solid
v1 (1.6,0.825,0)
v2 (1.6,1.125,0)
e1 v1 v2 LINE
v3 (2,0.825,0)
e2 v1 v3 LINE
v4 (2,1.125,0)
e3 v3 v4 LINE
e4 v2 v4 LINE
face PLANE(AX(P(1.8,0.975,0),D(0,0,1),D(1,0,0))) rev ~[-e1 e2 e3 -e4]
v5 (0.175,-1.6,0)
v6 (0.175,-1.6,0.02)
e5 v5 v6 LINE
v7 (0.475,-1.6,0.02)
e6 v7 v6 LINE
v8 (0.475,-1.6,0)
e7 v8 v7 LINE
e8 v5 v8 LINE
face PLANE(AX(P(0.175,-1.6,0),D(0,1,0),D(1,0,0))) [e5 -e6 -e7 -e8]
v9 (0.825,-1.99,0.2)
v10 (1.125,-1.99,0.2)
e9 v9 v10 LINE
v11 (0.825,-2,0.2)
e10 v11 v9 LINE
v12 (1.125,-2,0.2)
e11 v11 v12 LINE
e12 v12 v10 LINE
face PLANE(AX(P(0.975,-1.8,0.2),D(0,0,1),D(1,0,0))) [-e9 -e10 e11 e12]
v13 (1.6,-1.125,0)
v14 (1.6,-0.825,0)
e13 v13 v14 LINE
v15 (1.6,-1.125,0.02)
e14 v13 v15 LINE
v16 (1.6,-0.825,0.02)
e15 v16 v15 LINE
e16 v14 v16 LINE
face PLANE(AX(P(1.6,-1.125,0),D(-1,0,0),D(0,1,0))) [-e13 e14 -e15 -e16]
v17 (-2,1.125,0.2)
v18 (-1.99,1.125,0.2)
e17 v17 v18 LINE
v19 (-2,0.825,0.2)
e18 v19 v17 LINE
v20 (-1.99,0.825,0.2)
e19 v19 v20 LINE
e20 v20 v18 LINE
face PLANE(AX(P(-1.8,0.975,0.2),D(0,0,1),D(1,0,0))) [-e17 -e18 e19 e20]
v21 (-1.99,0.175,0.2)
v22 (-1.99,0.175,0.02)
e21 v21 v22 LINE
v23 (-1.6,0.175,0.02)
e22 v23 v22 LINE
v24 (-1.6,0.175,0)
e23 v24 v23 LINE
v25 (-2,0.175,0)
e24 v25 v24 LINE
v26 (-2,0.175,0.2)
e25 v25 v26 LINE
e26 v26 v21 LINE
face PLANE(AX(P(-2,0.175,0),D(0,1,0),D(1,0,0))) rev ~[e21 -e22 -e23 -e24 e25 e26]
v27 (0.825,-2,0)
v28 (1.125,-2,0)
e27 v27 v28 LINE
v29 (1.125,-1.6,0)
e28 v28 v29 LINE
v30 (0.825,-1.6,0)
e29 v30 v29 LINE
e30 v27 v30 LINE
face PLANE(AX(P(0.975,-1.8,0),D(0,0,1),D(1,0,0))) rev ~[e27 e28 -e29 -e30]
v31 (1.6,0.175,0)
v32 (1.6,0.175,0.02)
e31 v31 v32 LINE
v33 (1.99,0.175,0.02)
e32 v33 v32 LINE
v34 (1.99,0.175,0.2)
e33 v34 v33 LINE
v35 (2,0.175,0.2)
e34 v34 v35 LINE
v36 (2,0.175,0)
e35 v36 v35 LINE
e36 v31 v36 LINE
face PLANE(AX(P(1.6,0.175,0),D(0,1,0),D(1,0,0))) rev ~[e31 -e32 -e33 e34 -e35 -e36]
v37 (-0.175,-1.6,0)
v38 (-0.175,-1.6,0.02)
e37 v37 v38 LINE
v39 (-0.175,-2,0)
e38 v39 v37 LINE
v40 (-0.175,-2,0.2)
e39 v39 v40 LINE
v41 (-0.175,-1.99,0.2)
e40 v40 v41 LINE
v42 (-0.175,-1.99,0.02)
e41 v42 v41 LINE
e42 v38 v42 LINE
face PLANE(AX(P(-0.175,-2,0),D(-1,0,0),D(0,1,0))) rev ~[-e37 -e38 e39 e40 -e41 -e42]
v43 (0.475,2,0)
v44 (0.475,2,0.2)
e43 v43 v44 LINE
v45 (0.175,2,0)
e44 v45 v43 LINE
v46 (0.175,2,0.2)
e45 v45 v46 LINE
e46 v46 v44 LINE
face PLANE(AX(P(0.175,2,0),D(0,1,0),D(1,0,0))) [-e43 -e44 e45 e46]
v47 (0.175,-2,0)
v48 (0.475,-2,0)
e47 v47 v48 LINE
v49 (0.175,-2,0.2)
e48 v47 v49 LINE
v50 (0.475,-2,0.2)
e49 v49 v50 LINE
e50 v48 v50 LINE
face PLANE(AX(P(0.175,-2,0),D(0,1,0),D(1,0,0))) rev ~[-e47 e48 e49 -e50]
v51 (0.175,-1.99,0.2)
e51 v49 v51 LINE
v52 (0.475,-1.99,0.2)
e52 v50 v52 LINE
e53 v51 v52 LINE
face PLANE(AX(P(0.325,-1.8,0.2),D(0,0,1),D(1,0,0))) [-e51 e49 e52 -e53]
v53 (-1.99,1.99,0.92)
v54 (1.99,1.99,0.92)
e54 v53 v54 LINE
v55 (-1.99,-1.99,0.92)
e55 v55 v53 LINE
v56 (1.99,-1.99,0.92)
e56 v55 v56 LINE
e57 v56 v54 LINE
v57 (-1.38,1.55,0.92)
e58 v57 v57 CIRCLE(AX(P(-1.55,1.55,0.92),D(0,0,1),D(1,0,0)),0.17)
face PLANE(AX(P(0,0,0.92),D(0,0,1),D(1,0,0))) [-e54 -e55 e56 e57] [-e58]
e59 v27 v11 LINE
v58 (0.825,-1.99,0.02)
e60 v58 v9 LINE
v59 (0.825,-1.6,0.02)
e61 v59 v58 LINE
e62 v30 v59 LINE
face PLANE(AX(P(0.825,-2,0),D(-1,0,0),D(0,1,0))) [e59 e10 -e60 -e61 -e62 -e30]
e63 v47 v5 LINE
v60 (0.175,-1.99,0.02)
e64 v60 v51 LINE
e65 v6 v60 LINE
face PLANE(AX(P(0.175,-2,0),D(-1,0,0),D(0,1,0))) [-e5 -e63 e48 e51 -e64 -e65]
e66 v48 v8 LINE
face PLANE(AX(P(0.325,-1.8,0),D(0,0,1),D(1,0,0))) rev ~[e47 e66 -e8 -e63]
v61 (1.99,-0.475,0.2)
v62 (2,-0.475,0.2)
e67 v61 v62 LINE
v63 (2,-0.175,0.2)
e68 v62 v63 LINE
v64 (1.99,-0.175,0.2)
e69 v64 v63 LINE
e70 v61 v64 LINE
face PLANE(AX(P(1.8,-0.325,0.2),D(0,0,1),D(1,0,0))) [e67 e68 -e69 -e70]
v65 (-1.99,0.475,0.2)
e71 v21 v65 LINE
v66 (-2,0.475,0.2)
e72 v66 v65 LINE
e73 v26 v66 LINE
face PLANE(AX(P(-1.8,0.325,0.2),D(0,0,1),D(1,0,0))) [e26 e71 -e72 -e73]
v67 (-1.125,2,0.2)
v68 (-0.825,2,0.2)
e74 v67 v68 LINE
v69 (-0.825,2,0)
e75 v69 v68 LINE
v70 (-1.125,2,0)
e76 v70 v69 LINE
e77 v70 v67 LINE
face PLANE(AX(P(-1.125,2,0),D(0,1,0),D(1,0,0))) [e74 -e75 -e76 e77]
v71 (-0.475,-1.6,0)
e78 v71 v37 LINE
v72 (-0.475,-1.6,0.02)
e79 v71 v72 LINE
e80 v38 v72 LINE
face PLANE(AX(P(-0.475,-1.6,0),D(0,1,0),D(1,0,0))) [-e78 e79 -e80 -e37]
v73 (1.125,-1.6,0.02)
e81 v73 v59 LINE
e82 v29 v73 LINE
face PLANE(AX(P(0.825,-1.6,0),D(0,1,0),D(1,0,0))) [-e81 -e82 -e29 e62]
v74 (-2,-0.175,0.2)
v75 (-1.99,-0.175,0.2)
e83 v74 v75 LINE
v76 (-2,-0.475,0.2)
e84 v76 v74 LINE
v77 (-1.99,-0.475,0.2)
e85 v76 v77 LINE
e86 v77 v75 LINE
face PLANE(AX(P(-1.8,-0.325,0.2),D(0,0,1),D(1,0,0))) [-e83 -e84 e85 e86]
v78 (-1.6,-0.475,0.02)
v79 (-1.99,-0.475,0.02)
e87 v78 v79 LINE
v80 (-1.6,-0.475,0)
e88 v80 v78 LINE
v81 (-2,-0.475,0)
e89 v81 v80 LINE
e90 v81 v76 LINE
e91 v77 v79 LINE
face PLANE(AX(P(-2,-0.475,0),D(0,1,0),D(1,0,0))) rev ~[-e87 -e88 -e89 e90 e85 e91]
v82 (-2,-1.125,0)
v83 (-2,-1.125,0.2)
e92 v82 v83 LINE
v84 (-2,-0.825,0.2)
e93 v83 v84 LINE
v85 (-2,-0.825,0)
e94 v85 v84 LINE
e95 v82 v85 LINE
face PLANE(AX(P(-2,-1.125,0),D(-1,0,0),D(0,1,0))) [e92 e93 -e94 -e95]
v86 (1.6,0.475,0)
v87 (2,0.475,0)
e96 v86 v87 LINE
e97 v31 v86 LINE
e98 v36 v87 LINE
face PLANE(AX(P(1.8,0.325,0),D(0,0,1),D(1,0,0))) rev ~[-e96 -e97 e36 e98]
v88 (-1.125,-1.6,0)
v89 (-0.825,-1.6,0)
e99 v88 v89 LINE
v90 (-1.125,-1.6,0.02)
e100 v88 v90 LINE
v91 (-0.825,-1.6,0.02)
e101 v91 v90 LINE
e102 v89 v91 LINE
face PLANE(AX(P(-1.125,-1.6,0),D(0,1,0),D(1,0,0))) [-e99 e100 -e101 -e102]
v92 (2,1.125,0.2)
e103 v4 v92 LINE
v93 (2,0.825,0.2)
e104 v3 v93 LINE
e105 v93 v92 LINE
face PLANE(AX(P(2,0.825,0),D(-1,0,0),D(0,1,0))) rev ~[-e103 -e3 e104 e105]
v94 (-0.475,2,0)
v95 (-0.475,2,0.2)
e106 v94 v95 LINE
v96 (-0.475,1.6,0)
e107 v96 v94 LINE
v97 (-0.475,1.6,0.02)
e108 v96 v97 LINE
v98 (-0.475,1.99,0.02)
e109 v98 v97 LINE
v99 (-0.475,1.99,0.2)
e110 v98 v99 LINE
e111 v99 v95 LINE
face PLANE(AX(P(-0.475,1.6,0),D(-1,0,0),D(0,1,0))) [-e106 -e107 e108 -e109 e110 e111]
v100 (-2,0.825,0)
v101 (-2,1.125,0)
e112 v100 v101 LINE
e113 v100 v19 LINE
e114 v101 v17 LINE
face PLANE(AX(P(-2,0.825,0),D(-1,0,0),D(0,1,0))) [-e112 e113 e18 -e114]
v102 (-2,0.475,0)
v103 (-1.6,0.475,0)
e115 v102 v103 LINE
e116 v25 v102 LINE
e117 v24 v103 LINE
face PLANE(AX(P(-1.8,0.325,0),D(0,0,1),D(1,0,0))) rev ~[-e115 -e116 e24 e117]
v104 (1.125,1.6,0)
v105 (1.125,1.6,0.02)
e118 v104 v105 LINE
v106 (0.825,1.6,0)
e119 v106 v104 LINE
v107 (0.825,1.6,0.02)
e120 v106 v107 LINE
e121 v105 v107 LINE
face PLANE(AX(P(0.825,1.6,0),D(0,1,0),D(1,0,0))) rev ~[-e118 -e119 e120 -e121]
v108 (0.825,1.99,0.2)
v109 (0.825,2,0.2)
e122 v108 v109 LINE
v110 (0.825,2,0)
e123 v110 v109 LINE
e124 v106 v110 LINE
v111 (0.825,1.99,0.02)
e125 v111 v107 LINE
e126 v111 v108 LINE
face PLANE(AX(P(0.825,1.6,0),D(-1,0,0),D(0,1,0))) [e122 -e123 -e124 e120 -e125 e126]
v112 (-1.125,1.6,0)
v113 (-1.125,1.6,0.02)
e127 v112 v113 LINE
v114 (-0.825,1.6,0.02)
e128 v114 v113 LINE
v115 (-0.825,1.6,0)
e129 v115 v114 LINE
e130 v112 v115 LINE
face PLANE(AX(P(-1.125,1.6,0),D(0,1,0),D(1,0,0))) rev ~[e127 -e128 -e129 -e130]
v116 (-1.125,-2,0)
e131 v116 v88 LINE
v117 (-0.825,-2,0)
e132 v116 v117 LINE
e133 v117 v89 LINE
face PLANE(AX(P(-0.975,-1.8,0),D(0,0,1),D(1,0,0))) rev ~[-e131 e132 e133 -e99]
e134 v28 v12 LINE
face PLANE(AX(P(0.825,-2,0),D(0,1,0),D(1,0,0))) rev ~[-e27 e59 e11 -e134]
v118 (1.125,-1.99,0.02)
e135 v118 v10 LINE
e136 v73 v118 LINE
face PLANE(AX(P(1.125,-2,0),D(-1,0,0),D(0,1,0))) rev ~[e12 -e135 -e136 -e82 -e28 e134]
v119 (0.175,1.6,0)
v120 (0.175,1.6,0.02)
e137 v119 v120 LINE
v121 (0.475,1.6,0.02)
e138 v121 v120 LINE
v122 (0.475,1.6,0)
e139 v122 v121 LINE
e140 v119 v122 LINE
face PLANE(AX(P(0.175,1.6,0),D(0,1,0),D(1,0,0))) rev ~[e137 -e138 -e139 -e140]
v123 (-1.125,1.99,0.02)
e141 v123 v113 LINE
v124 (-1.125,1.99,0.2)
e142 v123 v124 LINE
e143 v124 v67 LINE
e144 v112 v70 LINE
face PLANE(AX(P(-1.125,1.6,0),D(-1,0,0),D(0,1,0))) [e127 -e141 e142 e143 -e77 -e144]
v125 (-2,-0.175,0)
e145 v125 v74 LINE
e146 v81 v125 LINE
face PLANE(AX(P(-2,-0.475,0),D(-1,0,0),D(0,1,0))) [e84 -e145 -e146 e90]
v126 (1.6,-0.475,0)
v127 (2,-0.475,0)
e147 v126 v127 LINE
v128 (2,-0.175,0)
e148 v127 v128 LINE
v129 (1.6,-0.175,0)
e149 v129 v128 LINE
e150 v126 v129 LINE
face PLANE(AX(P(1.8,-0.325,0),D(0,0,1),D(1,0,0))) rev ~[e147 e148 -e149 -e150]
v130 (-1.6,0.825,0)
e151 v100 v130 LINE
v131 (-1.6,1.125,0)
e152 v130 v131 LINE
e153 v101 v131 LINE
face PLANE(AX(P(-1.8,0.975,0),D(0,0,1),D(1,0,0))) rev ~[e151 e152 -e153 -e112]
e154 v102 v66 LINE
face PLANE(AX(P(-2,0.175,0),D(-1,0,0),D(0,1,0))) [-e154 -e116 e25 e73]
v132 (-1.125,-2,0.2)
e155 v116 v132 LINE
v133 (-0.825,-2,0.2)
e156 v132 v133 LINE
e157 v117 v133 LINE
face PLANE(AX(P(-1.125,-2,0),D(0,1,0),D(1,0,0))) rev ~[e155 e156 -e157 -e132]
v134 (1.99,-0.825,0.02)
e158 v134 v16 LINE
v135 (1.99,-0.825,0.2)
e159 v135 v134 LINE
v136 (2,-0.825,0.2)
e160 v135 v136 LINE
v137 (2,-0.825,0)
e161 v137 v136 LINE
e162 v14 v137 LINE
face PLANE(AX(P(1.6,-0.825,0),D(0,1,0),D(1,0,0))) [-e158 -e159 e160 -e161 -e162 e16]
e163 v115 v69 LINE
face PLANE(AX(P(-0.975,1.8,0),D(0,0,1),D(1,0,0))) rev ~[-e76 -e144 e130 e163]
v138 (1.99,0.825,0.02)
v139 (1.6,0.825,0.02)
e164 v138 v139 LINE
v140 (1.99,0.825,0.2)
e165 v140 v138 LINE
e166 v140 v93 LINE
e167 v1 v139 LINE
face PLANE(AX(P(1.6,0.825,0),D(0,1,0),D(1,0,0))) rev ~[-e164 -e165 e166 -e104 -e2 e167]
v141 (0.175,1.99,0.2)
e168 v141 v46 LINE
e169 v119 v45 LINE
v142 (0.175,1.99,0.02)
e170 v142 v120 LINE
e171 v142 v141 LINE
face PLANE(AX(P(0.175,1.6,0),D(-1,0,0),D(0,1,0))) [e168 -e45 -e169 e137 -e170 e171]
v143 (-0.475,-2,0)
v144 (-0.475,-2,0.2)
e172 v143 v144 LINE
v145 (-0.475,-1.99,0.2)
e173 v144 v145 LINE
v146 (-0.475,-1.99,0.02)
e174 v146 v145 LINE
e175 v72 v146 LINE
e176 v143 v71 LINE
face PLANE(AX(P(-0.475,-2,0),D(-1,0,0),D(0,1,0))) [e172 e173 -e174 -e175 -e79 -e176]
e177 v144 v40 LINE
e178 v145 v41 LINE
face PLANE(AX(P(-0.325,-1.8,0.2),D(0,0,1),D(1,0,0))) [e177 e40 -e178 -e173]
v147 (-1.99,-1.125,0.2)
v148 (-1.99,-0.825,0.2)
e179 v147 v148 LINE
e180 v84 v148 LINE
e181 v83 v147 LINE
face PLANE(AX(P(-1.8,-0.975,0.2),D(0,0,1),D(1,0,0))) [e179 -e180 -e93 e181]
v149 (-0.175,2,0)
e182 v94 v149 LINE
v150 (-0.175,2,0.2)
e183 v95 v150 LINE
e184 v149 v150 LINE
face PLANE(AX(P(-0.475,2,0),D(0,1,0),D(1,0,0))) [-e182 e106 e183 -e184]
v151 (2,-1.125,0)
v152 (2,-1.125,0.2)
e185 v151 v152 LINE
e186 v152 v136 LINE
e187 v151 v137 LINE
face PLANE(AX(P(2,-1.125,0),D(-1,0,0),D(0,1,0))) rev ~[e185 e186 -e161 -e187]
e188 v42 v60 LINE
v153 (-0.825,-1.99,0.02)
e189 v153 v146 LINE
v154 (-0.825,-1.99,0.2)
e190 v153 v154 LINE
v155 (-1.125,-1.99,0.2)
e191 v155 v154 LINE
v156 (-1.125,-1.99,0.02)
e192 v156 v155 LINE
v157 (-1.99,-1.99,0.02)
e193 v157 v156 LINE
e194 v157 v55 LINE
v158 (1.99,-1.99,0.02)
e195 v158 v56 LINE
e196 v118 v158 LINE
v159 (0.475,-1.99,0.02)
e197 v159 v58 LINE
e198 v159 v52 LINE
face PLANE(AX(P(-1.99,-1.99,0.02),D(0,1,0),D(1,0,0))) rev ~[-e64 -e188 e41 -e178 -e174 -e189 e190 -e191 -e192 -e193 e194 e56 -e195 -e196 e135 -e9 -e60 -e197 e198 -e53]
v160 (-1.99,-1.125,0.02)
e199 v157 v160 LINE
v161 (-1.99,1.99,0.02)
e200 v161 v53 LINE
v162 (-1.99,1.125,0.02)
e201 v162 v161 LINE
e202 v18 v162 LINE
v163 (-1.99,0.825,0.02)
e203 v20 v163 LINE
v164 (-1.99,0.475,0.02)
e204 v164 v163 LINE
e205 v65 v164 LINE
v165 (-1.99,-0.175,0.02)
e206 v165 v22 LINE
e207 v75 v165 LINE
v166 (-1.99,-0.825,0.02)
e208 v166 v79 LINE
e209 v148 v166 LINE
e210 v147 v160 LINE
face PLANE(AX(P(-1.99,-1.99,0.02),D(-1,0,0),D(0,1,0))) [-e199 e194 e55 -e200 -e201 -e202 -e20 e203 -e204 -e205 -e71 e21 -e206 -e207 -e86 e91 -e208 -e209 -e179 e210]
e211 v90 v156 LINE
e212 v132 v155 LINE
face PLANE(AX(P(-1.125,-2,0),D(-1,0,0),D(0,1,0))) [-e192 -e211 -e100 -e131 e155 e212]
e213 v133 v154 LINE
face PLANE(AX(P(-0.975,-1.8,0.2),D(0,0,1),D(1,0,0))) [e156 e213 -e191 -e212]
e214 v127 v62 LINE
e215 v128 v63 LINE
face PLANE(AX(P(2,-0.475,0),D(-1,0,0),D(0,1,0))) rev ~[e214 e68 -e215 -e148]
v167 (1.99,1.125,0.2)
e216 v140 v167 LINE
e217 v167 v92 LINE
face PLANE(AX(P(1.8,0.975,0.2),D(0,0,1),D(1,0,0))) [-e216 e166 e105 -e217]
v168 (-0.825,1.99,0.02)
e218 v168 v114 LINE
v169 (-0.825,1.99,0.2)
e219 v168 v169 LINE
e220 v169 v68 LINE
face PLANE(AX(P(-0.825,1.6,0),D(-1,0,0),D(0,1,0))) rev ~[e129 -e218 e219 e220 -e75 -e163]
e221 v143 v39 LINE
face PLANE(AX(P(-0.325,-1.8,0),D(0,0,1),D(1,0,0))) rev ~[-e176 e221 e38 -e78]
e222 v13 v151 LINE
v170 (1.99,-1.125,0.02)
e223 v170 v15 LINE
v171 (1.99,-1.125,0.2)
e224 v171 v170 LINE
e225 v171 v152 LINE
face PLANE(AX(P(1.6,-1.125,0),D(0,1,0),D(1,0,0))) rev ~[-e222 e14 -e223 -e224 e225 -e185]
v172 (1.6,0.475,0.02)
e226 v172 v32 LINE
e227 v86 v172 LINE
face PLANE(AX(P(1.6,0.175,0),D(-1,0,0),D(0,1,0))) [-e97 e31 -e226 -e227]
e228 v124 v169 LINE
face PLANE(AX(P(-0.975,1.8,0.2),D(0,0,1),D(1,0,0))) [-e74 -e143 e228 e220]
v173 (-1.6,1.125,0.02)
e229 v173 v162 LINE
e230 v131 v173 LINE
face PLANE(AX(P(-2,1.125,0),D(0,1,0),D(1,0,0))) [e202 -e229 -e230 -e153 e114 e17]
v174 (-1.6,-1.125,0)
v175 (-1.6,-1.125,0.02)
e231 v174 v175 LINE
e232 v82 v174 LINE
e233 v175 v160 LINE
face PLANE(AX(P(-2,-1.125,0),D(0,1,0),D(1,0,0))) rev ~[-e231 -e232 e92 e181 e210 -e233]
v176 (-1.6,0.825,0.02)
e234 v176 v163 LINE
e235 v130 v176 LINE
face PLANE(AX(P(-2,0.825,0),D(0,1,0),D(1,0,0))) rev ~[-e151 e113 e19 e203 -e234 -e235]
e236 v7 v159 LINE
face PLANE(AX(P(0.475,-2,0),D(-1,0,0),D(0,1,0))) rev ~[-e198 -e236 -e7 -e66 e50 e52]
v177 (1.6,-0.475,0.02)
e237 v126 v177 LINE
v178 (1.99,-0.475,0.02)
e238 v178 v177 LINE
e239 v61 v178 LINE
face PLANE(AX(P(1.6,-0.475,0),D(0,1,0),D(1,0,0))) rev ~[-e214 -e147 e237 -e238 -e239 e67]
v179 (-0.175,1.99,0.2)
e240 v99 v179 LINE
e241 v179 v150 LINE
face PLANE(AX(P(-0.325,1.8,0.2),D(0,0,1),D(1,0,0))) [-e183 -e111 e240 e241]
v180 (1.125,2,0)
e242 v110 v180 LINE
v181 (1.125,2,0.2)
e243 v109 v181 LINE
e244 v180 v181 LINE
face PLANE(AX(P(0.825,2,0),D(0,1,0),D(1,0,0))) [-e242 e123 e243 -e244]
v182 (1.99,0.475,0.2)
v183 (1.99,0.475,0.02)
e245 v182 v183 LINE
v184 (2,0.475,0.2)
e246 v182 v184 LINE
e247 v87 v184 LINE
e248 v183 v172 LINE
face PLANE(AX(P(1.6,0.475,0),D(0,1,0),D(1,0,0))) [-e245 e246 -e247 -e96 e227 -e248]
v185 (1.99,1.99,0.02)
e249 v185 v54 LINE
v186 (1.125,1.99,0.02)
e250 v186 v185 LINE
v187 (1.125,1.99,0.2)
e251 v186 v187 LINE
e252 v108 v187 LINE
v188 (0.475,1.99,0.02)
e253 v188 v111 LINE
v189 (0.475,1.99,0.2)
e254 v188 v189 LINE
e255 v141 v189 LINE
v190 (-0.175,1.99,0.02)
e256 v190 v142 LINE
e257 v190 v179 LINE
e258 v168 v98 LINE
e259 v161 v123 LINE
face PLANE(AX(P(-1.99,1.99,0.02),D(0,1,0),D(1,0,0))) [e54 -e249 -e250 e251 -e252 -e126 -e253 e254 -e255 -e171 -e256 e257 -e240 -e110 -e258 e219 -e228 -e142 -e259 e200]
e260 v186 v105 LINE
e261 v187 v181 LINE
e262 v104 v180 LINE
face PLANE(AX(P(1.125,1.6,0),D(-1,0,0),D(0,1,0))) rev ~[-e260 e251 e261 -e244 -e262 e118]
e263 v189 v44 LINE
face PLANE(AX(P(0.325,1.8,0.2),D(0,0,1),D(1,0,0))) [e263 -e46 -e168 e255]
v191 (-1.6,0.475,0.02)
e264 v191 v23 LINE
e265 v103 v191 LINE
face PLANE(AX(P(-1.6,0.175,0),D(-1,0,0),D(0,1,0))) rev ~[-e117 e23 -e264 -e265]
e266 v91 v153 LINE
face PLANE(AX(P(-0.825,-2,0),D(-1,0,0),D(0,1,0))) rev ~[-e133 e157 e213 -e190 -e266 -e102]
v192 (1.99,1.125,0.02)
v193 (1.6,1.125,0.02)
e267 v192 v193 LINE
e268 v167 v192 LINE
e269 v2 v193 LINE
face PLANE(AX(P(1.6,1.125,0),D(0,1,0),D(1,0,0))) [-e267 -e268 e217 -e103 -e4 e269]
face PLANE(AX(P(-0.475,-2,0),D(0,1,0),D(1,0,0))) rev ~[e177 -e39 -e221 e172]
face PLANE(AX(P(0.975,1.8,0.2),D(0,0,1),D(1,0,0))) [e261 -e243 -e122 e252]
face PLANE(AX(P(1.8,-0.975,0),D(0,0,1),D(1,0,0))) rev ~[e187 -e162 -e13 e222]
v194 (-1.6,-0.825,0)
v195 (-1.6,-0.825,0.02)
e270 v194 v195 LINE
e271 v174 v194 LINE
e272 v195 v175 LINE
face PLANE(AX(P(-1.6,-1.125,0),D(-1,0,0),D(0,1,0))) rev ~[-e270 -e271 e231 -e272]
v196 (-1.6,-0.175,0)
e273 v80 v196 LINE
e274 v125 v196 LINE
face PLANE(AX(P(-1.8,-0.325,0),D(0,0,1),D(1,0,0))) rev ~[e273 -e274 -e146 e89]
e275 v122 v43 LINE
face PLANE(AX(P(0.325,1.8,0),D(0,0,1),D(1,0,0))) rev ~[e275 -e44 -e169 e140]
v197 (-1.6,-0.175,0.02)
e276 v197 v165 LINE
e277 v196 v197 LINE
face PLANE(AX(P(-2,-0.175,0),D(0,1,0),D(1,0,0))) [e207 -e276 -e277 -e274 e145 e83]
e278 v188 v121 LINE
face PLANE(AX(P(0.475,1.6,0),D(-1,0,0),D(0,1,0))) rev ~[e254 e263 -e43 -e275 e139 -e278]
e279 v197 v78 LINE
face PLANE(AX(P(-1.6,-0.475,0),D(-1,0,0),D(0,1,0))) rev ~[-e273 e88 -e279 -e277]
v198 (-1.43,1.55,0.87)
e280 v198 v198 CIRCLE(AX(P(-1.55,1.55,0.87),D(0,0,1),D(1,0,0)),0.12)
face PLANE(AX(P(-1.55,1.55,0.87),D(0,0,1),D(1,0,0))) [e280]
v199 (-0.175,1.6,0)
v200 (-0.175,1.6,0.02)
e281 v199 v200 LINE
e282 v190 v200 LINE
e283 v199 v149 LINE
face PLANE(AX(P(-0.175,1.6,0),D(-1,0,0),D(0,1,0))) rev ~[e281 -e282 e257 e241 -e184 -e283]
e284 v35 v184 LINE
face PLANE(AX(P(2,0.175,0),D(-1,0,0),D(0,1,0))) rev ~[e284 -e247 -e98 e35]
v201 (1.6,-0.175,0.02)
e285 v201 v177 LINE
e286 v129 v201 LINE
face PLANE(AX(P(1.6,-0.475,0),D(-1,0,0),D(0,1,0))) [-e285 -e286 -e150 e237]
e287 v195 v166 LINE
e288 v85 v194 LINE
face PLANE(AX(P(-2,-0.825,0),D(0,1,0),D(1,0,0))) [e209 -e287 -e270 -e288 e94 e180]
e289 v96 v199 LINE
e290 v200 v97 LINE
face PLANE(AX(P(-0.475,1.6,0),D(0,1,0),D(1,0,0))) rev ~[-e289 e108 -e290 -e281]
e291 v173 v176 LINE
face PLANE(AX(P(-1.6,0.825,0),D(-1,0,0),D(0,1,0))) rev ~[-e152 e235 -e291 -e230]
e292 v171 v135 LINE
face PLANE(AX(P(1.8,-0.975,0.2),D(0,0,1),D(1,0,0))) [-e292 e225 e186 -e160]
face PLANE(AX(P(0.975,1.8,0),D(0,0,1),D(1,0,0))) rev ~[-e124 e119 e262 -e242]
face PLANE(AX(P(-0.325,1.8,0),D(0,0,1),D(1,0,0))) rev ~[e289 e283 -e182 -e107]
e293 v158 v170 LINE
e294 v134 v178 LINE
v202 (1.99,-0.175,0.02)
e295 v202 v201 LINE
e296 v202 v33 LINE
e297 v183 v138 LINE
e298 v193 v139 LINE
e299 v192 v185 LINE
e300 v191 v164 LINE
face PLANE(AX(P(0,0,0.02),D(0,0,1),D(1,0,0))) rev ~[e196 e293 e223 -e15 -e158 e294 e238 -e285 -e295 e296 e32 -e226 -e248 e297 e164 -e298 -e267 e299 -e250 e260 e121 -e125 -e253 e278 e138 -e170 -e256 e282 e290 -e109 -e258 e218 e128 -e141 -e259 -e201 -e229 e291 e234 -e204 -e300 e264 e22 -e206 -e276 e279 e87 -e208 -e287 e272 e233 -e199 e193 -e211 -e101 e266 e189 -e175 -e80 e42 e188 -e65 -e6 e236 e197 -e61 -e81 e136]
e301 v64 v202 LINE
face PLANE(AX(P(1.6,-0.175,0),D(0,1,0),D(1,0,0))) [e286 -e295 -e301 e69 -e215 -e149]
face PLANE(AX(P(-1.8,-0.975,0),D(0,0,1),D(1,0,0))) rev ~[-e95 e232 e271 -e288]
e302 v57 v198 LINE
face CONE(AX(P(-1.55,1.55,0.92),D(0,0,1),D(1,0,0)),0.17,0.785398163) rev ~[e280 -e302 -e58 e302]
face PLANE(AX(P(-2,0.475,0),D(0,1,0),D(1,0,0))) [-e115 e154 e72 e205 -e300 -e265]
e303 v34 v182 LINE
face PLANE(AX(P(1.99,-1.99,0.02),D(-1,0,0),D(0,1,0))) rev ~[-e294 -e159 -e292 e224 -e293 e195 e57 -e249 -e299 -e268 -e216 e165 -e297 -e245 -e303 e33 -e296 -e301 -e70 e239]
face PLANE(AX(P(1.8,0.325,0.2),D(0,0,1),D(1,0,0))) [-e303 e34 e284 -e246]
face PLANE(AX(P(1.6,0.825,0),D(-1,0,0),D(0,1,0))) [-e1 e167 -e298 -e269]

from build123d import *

# Parameters (mm, degrees)
EXTRUDE_START       = 0.02
SKETCH_1_W          = 3.98
SKETCH_1_H          = 3.98
EXTRUDE_1_DEPTH     = 0.9
SKETCH_2_R          = 0.17
CUT_EXTRUDE_2_DEPTH = 0.05
CUT_EXTRUDE_2_DRAFT = -45
SKETCH_3_W          = 0.4
SKETCH_3_H          = 0.3
SKETCH_3_W_2        = 0.3
SKETCH_3_H_2        = 0.4
EXTRUDE_3_DEPTH     = 0.2


with BuildPart() as part:
    # Эскиз1 → Вытянуть1 (new body)
    with BuildSketch(Plane.XY.offset(EXTRUDE_START)):
        Rectangle(SKETCH_1_W, SKETCH_1_H)
    extrude(amount=EXTRUDE_1_DEPTH)


with BuildPart() as cut_extrude_2_tool:
    # Эскиз2 → Вытянуть2 (with draft: the straight prism first)
    with BuildSketch(Plane.XY.offset(0.92)):
        with Locations((-1.55, 1.55)):
            Circle(SKETCH_2_R)
    extrude(amount=-CUT_EXTRUDE_2_DEPTH)
    # Вытянуть2: the draft: its side faces are tilted about the plane it starts from
    cut_extrude_2_sides = [cut_extrude_2_tool.faces().sort_by_distance(p)[0] for p in [
        (-1.72, 1.55, 0.895),
    ]]
    draft(cut_extrude_2_sides, Plane.XY.offset(0.92), CUT_EXTRUDE_2_DRAFT)


with BuildPart() as part_1:
    add(part.part)

    # Вытянуть2: cut by cut_extrude_2_tool
    add(cut_extrude_2_tool.part, mode=Mode.SUBTRACT)

    # Эскиз3 → Вытянуть3 (add)
    with BuildSketch(Plane.XY):
        with Locations((-1.8, -0.325)):
            Rectangle(SKETCH_3_W, SKETCH_3_H)
        with Locations((-1.8, -0.975)):
            Rectangle(SKETCH_3_W, SKETCH_3_H)
        with Locations((-1.8, 0.975)):
            Rectangle(SKETCH_3_W, SKETCH_3_H)
        with Locations((-1.8, 0.325)):
            Rectangle(SKETCH_3_W, SKETCH_3_H)
        with Locations((-0.325, 1.8)):
            Rectangle(SKETCH_3_W_2, SKETCH_3_H_2)
        with Locations((-0.975, 1.8)):
            Rectangle(SKETCH_3_W_2, SKETCH_3_H_2)
        with Locations((0.975, 1.8)):
            Rectangle(SKETCH_3_W_2, SKETCH_3_H_2)
        with Locations((0.325, 1.8)):
            Rectangle(SKETCH_3_W_2, SKETCH_3_H_2)
        with Locations((1.8, 0.325)):
            Rectangle(SKETCH_3_W, SKETCH_3_H)
        with Locations((1.8, 0.975)):
            Rectangle(SKETCH_3_W, SKETCH_3_H)
        with Locations((1.8, -0.975)):
            Rectangle(SKETCH_3_W, SKETCH_3_H)
        with Locations((1.8, -0.325)):
            Rectangle(SKETCH_3_W, SKETCH_3_H)
        with Locations((0.325, -1.8)):
            Rectangle(SKETCH_3_W_2, SKETCH_3_H_2)
        with Locations((0.975, -1.8)):
            Rectangle(SKETCH_3_W_2, SKETCH_3_H_2)
        with Locations((-0.975, -1.8)):
            Rectangle(SKETCH_3_W_2, SKETCH_3_H_2)
        with Locations((-0.325, -1.8)):
            Rectangle(SKETCH_3_W_2, SKETCH_3_H_2)
    extrude(amount=EXTRUDE_3_DEPTH)


solid = part_1.part
